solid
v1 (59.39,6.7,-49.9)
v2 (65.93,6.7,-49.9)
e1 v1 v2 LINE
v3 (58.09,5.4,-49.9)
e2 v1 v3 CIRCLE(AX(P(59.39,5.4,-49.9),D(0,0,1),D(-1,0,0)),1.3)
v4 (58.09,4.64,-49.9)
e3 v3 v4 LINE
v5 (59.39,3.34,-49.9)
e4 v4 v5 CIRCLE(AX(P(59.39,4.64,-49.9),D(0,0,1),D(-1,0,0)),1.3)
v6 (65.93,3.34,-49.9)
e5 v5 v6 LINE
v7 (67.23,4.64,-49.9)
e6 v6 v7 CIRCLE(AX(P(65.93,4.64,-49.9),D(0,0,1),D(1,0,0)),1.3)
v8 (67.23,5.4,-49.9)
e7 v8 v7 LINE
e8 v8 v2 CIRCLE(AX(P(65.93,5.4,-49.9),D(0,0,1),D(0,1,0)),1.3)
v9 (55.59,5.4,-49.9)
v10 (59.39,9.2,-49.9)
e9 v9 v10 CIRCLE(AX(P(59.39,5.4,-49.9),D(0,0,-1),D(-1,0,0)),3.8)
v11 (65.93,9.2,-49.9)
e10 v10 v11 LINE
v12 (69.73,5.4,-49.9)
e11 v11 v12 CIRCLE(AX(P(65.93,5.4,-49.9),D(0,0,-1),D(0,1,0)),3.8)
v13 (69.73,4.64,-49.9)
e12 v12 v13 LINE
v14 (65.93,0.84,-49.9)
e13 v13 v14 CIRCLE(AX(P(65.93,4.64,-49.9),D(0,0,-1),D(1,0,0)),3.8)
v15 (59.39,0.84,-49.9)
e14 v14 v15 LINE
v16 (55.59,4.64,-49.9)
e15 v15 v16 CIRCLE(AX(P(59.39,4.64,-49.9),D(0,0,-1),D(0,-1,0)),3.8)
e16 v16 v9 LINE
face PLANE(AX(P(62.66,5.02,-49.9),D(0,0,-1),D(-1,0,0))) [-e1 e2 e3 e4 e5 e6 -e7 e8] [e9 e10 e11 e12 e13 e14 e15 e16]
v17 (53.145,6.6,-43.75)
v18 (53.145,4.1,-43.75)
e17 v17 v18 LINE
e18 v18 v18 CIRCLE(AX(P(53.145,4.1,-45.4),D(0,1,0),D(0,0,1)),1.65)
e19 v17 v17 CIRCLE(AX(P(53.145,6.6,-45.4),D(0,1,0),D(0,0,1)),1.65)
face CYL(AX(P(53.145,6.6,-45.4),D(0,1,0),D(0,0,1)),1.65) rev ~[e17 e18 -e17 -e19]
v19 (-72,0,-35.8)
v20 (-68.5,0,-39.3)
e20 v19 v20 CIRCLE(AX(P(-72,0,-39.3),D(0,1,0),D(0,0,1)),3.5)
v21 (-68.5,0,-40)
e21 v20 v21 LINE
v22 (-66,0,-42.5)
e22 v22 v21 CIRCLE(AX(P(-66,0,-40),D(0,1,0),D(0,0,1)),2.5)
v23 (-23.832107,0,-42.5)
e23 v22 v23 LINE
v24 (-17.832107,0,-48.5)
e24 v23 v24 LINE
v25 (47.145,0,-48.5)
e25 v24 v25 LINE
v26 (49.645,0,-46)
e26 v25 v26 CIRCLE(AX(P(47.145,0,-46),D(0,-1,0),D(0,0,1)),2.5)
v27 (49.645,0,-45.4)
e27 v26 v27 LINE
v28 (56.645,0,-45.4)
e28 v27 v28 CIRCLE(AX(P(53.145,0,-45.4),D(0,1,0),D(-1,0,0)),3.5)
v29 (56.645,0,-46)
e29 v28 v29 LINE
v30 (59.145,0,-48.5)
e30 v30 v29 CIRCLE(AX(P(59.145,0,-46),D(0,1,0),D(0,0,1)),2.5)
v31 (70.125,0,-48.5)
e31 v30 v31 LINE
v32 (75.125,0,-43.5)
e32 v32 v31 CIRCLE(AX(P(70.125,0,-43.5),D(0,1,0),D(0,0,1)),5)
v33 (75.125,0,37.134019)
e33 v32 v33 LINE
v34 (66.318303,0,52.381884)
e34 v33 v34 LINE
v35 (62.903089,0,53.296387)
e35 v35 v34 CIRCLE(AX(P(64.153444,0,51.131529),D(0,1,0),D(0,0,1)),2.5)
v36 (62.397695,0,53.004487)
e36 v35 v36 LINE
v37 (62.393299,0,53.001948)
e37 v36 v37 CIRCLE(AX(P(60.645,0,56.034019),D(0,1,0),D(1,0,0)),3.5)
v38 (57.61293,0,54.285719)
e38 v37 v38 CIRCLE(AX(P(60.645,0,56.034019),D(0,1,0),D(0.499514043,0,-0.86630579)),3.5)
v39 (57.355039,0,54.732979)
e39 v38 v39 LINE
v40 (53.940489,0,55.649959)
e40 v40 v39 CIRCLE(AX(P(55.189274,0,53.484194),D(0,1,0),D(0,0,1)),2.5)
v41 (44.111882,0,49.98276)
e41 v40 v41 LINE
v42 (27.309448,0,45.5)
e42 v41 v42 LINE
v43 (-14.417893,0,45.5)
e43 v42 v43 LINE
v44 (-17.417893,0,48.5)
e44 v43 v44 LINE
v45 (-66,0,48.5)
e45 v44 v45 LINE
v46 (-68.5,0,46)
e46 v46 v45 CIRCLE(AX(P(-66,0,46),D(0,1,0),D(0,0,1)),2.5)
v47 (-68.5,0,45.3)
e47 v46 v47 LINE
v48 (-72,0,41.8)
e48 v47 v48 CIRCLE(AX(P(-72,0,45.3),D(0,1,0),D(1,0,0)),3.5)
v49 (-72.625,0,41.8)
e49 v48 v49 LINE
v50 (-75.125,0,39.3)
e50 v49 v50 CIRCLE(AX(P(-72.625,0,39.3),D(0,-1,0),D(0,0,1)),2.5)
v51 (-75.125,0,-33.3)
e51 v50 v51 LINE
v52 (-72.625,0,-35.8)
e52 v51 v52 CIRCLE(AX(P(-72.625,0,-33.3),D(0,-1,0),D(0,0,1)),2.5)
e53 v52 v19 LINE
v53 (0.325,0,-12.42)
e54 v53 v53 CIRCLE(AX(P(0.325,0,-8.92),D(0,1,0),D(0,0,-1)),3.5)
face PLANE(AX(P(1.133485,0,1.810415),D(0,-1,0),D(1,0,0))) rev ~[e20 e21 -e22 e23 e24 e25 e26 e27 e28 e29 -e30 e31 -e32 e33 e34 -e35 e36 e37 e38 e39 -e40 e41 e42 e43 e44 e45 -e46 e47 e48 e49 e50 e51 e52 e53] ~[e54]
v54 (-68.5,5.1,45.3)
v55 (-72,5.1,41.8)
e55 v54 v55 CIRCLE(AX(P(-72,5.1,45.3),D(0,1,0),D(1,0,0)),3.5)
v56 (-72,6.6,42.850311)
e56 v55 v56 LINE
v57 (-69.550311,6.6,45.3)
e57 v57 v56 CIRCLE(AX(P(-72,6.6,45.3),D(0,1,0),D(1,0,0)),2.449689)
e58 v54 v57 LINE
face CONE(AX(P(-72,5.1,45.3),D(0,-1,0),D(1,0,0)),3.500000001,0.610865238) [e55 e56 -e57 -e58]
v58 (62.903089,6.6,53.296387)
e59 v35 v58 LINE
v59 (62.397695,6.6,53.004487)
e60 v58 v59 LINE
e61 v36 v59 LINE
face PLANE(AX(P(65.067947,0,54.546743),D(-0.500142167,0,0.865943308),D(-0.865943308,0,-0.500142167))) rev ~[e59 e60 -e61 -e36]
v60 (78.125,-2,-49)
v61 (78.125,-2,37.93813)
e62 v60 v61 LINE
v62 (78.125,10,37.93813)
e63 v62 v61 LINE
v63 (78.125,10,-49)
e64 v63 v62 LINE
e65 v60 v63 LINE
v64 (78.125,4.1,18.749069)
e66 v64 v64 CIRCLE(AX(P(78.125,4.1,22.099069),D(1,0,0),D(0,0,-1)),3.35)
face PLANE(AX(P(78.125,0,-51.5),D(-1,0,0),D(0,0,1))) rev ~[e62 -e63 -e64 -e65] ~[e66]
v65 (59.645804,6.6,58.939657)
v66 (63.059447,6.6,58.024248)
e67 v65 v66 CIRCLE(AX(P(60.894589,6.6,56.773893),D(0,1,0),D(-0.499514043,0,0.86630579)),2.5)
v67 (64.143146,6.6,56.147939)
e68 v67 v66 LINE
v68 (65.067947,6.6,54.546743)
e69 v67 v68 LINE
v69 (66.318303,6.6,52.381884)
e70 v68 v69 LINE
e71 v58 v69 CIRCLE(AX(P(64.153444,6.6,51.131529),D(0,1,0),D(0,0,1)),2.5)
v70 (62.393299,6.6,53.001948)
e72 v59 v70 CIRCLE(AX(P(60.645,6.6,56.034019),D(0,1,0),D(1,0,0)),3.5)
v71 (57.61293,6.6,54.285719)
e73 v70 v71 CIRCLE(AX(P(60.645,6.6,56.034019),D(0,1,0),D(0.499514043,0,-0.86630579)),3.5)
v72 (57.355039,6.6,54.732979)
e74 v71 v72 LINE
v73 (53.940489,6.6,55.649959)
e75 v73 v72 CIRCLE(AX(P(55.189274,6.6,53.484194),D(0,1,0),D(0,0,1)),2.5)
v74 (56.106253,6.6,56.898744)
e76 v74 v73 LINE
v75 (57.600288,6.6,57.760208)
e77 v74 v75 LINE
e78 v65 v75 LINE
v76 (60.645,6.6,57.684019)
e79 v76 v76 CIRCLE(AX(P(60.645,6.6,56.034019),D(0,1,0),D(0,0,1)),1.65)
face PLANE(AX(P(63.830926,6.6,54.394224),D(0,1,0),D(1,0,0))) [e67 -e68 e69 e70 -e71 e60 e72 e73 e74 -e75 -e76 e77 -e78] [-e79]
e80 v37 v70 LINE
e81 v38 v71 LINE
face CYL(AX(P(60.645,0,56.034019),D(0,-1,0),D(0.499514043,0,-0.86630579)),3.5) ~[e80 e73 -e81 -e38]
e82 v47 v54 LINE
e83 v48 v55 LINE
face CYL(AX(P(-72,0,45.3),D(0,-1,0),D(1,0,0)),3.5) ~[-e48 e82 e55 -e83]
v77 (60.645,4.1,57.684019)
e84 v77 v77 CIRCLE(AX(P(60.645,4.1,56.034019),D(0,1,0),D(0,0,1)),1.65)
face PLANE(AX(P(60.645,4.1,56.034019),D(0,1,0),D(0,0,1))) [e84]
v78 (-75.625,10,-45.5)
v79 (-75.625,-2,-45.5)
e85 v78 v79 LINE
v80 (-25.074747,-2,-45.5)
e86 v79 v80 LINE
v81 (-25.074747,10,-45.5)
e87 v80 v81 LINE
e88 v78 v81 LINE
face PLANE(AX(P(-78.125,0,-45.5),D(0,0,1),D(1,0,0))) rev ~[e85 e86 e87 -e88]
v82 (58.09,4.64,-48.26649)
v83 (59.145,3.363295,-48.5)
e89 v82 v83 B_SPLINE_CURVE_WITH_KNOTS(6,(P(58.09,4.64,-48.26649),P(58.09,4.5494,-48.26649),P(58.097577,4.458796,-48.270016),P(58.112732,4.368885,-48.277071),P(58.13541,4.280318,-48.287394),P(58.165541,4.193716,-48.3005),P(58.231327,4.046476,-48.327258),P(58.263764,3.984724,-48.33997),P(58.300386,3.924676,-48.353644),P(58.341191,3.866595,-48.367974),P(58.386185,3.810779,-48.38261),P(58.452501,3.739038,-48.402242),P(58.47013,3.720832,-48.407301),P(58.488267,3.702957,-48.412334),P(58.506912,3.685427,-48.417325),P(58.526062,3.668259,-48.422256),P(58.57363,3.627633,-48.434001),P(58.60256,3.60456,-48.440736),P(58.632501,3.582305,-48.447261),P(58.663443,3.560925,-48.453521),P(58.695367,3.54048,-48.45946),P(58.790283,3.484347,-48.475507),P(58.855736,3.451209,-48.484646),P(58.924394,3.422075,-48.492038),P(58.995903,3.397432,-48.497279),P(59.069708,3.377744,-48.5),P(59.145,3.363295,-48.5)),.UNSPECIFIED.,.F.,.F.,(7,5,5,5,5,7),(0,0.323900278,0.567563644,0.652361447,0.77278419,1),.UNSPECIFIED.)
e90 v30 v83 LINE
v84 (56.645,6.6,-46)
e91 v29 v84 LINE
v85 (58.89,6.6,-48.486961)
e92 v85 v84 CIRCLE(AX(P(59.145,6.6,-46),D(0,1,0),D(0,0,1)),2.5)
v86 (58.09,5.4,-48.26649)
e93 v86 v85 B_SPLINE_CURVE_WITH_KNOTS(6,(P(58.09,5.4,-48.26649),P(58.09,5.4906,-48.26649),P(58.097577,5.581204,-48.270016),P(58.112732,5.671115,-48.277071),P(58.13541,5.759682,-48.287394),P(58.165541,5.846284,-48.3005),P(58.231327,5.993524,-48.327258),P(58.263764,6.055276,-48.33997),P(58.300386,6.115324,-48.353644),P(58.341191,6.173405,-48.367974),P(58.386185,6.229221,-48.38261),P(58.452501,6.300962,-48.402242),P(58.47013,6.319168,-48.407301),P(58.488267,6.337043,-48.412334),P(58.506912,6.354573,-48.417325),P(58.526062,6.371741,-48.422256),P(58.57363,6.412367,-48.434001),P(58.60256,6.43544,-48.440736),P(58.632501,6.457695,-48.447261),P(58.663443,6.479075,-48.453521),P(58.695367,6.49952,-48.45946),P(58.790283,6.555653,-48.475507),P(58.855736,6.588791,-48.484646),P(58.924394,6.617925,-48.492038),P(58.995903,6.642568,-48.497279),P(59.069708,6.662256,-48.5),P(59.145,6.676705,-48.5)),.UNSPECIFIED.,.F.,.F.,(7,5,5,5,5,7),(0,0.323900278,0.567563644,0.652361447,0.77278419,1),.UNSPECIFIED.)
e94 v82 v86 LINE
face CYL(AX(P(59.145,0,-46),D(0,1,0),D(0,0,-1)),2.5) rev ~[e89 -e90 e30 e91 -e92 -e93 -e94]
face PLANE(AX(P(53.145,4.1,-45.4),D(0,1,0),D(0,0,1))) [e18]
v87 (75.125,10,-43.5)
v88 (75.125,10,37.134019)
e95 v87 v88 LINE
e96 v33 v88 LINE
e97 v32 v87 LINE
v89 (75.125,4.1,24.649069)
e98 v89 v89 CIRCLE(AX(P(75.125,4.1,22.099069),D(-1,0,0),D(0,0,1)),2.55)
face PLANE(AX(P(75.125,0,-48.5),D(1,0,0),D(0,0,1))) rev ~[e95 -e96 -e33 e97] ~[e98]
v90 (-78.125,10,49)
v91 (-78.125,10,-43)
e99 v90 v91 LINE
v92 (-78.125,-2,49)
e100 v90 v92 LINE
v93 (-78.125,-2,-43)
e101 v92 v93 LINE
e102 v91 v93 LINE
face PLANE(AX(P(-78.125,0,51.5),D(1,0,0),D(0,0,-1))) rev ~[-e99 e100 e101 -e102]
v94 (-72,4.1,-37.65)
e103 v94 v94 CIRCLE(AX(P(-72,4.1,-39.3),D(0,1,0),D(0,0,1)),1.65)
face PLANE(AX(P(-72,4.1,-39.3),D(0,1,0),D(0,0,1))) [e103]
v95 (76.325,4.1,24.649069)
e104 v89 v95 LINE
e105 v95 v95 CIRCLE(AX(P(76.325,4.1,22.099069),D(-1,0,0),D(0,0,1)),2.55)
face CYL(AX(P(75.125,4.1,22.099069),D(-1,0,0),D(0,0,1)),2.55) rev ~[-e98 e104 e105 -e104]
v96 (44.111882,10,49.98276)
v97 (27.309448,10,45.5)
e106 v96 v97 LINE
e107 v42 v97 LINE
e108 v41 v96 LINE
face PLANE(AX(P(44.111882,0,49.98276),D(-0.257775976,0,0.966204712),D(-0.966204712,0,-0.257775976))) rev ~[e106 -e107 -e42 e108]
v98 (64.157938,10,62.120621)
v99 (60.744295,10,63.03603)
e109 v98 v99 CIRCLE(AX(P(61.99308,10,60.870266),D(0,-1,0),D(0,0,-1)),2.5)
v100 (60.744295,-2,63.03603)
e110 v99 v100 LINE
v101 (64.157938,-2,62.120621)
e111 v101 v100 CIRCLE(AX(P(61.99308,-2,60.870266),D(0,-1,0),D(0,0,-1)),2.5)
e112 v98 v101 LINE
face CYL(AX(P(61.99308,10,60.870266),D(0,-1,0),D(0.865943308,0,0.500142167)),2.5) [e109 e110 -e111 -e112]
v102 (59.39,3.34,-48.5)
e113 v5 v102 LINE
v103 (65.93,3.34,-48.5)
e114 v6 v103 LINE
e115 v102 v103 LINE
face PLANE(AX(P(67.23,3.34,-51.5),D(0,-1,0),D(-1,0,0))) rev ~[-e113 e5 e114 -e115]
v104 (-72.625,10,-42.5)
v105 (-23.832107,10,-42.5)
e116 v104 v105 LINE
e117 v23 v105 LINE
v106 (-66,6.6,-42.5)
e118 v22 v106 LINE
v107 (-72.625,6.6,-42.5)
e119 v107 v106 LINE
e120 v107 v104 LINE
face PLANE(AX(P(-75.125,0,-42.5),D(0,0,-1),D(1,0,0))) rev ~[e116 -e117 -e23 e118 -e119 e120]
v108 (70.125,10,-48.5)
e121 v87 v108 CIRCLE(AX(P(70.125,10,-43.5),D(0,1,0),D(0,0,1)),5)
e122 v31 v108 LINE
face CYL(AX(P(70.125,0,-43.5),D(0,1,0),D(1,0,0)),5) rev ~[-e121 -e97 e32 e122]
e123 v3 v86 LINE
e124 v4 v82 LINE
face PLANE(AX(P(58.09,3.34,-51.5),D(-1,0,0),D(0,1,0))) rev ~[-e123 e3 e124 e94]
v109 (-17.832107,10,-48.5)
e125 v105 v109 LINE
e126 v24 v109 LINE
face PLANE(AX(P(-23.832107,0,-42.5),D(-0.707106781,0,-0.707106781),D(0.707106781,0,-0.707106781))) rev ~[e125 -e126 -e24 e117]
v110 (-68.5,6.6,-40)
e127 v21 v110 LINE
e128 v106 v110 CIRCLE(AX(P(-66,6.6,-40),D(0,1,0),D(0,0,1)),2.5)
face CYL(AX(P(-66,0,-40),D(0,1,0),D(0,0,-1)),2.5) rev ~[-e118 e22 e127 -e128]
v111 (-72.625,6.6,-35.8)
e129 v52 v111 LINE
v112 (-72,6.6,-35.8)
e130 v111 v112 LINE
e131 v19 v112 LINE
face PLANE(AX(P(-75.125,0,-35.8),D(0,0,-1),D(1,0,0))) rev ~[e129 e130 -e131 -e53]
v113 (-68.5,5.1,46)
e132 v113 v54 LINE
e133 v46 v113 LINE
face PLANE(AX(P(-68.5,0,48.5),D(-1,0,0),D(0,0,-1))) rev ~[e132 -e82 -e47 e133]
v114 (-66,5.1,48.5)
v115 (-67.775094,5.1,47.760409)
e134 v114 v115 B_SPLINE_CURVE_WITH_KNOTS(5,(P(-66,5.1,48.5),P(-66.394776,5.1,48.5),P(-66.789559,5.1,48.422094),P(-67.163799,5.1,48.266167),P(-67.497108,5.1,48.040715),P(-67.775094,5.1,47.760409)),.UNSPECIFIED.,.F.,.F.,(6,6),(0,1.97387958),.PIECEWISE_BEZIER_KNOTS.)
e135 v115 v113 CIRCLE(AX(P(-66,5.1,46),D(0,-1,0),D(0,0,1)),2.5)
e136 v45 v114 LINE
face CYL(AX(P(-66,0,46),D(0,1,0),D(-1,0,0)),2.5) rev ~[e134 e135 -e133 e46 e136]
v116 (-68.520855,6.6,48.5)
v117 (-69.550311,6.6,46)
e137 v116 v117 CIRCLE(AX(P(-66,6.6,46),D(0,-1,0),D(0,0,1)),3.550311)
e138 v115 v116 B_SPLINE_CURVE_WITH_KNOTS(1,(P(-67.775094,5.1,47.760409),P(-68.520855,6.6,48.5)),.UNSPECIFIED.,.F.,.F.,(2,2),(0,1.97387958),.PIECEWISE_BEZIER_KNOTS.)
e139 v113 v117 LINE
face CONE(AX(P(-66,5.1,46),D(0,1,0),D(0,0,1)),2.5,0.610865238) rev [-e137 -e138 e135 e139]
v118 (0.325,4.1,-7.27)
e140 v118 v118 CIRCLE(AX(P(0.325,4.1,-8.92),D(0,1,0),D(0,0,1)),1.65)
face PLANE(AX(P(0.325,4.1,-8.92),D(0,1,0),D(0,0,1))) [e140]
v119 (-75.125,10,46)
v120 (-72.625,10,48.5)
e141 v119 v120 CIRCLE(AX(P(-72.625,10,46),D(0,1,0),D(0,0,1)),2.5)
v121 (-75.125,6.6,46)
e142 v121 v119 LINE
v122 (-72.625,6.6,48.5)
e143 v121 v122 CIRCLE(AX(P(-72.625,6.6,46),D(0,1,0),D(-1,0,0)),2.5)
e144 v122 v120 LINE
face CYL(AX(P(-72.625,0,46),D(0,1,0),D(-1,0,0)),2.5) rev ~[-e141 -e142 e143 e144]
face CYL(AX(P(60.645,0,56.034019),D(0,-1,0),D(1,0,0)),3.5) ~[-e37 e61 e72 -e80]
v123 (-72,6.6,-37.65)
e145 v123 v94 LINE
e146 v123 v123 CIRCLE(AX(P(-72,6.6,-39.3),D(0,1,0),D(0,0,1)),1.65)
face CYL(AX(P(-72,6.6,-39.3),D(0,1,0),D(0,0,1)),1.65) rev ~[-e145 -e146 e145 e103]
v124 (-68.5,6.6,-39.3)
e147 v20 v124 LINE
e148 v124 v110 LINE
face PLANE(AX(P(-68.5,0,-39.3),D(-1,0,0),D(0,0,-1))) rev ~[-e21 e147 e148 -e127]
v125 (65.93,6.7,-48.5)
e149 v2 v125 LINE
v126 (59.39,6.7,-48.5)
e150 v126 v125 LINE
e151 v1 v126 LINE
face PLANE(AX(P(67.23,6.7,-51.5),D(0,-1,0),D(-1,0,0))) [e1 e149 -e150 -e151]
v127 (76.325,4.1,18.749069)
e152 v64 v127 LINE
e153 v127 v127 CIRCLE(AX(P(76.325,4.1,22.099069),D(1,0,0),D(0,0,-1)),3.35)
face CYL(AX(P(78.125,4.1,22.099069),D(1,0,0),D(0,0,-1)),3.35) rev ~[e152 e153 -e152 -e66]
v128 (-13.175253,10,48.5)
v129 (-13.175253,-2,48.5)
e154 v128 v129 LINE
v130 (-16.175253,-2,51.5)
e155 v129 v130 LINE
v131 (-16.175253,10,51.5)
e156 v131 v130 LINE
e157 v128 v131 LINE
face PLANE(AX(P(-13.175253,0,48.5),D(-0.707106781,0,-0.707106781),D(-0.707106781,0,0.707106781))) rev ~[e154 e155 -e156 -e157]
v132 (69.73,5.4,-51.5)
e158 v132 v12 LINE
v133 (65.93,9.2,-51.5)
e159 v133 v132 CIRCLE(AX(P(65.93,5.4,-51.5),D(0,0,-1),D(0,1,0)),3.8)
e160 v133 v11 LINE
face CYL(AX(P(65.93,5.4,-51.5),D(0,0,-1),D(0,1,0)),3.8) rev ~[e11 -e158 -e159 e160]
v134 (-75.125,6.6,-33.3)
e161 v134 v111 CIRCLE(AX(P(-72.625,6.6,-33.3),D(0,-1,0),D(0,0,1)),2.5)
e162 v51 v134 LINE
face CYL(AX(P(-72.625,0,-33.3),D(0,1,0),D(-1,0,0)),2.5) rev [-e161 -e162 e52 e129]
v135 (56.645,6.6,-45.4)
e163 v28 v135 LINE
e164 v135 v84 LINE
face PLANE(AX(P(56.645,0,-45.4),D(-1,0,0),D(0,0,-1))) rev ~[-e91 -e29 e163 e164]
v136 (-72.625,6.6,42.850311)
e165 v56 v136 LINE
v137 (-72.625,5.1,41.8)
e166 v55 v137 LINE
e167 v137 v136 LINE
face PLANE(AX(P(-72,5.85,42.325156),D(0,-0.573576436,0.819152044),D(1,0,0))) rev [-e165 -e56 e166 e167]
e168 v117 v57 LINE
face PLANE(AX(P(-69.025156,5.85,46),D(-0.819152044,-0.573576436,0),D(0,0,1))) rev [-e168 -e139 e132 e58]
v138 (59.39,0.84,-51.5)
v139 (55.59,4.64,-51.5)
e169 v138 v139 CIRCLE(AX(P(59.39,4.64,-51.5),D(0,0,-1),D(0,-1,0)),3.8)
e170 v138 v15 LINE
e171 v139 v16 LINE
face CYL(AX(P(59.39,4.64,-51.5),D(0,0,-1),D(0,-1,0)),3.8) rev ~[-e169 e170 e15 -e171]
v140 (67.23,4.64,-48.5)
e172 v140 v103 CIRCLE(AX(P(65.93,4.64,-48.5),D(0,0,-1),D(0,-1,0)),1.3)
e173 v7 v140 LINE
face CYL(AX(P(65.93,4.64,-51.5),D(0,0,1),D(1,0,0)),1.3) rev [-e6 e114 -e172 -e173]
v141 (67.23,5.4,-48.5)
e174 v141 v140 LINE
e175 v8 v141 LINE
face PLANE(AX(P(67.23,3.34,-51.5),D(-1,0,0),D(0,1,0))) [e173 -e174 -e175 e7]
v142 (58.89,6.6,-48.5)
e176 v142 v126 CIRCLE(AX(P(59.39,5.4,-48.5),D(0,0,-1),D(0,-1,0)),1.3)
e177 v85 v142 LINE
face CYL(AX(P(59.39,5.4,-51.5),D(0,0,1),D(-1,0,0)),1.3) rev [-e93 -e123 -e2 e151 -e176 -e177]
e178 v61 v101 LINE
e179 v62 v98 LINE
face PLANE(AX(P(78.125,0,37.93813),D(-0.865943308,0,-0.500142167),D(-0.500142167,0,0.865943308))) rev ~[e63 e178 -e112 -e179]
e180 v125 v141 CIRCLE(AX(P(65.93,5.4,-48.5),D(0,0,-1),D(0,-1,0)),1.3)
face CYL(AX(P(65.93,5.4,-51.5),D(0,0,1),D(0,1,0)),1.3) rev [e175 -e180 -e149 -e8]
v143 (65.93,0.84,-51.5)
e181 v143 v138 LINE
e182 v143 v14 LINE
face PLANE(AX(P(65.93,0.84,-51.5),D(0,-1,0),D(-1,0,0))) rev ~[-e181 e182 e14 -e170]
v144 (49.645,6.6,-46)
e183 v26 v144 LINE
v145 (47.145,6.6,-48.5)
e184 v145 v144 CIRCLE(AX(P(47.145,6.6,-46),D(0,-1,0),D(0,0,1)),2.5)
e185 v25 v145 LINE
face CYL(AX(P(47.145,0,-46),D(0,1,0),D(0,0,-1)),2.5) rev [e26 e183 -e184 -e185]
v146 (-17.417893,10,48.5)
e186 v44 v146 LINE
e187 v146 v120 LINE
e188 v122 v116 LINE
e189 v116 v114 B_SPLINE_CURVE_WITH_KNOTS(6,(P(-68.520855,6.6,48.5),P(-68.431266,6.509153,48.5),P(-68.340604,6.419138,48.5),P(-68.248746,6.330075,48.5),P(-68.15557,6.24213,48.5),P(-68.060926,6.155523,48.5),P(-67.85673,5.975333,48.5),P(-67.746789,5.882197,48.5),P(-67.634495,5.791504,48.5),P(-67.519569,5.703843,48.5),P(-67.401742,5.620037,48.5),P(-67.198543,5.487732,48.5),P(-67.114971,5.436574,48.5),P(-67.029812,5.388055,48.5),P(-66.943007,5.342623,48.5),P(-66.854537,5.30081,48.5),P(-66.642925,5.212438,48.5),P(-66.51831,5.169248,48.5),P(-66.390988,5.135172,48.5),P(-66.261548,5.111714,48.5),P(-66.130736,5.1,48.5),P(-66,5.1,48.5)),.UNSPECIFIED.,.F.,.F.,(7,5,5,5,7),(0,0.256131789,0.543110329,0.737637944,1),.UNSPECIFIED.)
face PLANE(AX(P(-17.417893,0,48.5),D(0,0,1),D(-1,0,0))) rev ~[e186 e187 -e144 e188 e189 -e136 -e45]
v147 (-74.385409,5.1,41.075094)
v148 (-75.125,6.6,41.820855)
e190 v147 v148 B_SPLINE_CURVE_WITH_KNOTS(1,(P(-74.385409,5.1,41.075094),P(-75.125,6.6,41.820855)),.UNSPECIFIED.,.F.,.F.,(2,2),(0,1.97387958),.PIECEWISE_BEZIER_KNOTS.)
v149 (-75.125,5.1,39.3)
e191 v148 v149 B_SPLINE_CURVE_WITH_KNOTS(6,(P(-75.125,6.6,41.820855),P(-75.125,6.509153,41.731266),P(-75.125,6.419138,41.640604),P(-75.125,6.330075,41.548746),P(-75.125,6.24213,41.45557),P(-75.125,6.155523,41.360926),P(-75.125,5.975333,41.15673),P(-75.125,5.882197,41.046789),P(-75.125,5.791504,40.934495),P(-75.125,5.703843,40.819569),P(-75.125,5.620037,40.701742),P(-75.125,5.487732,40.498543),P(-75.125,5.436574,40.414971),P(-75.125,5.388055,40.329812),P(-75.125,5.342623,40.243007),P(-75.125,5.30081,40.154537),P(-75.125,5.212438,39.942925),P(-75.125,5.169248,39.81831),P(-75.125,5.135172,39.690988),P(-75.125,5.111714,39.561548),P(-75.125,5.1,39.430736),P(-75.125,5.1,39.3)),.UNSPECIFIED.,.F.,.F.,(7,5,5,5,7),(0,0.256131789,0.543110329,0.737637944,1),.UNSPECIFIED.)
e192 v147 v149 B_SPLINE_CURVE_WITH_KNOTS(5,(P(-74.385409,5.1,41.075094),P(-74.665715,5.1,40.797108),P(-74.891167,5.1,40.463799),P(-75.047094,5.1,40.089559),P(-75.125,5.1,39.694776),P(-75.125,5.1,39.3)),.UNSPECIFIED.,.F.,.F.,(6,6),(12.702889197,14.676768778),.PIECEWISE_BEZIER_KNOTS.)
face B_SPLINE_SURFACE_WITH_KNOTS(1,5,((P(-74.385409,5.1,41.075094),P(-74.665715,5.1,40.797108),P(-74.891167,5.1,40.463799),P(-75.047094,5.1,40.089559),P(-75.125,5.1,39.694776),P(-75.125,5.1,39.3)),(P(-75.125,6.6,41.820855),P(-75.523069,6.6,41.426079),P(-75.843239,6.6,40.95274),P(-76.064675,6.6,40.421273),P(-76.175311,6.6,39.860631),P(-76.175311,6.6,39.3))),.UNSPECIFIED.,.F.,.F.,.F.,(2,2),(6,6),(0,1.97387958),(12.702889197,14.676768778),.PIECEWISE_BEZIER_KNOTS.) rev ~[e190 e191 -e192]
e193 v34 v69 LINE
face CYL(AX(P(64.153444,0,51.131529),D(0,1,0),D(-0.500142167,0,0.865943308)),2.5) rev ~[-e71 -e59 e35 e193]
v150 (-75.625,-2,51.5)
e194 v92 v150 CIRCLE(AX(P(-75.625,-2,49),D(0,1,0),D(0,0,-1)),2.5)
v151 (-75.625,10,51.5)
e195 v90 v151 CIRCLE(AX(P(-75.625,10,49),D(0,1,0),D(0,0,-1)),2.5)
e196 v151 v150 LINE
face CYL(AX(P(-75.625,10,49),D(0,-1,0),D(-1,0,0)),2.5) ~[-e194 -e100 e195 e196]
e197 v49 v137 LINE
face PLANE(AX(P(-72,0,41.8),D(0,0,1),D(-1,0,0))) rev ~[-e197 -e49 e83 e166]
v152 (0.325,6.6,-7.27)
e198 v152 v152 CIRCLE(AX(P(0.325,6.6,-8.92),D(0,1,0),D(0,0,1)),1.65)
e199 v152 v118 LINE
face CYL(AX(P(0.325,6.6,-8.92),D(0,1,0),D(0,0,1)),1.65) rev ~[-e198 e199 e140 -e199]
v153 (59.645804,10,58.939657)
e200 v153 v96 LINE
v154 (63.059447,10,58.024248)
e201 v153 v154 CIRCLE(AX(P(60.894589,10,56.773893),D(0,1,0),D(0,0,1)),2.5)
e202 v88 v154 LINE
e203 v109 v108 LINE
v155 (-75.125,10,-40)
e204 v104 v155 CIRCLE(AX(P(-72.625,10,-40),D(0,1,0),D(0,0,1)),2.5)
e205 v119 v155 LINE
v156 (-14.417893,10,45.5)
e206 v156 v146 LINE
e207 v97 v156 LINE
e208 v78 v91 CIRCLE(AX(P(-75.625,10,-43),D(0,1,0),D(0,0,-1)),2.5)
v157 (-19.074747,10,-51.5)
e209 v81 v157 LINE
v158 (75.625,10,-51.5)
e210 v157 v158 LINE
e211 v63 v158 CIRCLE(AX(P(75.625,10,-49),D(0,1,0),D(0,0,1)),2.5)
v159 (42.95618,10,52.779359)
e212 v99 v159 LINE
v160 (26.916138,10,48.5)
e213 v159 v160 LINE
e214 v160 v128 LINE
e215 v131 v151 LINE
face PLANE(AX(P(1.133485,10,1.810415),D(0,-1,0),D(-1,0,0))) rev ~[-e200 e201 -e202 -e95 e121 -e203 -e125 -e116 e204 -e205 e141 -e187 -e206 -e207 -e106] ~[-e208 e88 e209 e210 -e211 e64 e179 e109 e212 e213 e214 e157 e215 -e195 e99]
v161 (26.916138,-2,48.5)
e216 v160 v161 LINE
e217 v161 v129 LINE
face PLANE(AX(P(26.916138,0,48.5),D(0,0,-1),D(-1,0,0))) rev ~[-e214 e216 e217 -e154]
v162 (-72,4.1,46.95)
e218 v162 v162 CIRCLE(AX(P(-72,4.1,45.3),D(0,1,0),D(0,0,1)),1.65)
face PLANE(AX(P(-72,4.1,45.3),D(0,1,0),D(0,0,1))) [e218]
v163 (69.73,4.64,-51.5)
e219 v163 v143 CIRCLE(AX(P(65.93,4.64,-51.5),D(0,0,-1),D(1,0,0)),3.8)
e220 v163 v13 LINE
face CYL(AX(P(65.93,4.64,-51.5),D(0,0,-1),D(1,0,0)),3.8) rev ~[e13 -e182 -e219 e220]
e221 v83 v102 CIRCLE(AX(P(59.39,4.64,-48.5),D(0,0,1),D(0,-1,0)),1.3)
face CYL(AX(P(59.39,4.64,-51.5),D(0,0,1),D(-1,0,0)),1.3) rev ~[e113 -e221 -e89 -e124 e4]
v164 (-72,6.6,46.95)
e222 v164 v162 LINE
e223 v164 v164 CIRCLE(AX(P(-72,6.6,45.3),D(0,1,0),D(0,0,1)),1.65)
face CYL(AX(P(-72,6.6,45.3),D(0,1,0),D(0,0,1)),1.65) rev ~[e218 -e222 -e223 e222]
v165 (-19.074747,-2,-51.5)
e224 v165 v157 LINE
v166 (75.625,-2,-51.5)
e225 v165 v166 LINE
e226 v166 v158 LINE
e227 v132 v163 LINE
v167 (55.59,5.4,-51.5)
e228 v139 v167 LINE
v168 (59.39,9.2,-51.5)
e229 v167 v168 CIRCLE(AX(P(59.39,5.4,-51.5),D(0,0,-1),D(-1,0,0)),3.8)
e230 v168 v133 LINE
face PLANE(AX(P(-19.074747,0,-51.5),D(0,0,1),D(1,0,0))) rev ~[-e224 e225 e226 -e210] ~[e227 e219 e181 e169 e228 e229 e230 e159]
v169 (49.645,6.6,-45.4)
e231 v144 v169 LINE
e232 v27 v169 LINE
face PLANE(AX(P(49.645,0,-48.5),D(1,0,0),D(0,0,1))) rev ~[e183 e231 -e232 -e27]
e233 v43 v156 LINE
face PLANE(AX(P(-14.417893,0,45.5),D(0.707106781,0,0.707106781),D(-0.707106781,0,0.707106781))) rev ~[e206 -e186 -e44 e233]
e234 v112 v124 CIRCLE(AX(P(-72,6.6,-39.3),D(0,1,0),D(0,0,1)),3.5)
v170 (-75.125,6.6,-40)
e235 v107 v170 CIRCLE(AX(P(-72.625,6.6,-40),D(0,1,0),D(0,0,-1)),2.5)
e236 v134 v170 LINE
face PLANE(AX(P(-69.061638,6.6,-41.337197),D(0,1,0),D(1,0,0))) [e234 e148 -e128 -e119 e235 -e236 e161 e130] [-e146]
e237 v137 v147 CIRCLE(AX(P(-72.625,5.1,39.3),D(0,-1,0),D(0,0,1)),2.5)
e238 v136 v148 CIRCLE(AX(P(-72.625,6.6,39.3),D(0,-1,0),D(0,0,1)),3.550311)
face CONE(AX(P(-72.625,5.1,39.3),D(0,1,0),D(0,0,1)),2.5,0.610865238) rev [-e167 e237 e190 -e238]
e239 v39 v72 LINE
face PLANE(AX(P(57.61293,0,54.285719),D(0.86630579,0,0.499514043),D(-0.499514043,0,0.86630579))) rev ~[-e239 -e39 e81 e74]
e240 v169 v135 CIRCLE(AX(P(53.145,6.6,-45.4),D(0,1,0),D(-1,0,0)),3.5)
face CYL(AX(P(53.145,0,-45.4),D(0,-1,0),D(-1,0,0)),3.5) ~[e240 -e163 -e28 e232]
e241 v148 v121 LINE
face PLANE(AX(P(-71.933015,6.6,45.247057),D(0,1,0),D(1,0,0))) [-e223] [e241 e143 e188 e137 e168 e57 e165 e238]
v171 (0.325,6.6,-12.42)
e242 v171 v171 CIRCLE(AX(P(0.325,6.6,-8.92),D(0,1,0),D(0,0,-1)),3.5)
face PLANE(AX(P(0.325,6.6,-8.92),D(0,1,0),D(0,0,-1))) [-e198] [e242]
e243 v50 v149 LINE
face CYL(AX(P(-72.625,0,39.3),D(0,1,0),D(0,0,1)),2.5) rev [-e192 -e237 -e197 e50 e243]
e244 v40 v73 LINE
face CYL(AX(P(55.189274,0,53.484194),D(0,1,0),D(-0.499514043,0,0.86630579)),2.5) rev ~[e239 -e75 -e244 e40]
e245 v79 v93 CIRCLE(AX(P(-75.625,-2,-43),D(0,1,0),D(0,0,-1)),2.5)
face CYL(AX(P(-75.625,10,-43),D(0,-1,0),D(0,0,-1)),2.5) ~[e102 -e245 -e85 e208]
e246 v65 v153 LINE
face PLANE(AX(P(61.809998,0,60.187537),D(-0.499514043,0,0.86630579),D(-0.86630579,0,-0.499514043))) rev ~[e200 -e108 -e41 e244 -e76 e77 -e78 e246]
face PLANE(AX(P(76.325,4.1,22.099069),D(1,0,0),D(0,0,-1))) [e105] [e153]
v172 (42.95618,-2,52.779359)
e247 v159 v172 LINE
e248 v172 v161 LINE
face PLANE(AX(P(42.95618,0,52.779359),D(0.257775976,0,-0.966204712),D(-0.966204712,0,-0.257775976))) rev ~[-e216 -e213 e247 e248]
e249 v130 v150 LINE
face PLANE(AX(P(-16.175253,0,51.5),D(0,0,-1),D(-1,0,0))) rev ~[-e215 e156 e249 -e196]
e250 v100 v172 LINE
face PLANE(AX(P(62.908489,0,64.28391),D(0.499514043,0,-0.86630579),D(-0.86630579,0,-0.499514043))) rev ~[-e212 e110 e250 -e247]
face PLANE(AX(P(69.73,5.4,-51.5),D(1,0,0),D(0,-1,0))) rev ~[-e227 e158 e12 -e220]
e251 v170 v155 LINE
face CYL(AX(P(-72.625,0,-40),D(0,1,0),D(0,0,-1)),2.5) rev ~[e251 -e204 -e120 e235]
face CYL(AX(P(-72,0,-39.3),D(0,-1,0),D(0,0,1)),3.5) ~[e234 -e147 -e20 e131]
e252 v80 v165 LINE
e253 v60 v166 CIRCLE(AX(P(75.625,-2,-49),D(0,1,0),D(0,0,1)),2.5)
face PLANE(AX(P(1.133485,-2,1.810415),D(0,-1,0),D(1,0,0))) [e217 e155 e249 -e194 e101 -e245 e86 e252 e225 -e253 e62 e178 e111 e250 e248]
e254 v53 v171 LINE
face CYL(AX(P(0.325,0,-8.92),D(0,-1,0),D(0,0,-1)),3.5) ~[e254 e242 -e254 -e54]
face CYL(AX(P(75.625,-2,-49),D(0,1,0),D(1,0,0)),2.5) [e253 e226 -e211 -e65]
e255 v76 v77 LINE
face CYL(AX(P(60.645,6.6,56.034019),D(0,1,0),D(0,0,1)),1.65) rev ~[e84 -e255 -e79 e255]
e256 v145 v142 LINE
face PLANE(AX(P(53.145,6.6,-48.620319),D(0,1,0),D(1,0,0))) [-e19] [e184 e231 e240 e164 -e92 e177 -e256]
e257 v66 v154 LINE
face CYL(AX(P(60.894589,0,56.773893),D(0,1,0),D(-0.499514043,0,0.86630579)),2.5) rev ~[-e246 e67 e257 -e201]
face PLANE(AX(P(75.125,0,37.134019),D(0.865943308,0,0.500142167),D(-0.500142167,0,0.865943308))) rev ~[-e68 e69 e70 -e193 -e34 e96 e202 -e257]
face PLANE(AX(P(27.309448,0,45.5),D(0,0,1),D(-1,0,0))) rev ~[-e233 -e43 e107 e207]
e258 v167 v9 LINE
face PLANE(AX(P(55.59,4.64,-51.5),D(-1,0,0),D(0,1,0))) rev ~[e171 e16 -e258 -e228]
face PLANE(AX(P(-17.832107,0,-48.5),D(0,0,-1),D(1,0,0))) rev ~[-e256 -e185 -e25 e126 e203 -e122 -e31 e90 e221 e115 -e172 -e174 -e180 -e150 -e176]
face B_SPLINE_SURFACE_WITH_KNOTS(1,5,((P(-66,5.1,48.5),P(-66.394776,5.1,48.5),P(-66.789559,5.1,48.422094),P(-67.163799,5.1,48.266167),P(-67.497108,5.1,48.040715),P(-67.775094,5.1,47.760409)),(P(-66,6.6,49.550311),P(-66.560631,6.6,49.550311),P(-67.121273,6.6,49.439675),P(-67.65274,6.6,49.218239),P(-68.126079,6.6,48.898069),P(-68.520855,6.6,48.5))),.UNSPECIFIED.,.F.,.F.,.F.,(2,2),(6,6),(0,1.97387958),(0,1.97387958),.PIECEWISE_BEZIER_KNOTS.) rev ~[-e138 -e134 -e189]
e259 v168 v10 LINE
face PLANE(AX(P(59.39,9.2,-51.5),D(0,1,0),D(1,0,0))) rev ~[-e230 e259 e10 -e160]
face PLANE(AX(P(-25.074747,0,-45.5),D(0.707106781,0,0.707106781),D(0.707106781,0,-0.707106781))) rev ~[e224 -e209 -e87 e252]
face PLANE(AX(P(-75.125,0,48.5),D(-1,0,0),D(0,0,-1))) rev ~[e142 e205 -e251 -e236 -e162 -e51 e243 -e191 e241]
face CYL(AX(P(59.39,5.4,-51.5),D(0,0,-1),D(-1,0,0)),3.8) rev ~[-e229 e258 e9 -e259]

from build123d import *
from OCP.BRepFilletAPI import BRepFilletAPI_MakeChamfer

# Parameters (mm, degrees)
BOSS_EXTRUDE1_DEPTH = 10
BOSS_EXTRUDE2_DEPTH = 2
FILLET1_R           = 2.5
FILLET2_R           = 2.5
FILLET4_R           = 5
SKETCH3_R           = 3.5
BOSS_EXTRUDE3_DEPTH = 6.6
SKETCH5_R           = 1.65
CUT_EXTRUDE1_DEPTH  = 2.5
FILLET3_R           = 2.5
SKETCH6_R           = 2.55
CUT_EXTRUDE2_DEPTH  = 167.136549573
SKETCH7_R           = 3.35
CUT_EXTRUDE3_DEPTH  = 1.8
CUT_EXTRUDE4_REACH  = 141.279
SKETCH8_W           = 9.14
SKETCH8_H           = 3.36
FILLET5_R           = 1.3
CUT_EXTRUDE5_DEPTH  = 1.6
CHAMFER1_SIZE       = 1.5
CHAMFER1_SIZE2      = 1.050311307


with BuildPart() as part:
    # Sketch1 → Boss-Extrude1 (new body)
    with BuildSketch(Plane(origin=(0, 0, 0), x_dir=(1, 0, 0), z_dir=(0, 1, 0))):
        Polygon((78.125, -37.9381301), (62.908489388, -64.283910205), (42.956179643, -52.779359478), (26.916138362, -48.5), (-13.175252532, -48.5), (-16.175252532, -51.5), (-78.125, -51.5), (-78.125, 45.5), (-25.074747468, 45.5), (-19.074747468, 51.5), (78.125, 51.5), align=None)
        Polygon((75.125, -37.134018586), (61.80999823, -60.187537075), (44.11188212, -49.982759925), (27.309448337, -45.5), (-14.417893219, -45.5), (-17.417893219, -48.5), (-75.125, -48.5), (-75.125, 42.5), (-23.832106781, 42.5), (-17.832106781, 48.5), (75.125, 48.5), align=None, mode=Mode.SUBTRACT)
    extrude(amount=BOSS_EXTRUDE1_DEPTH)

    # Sketch2 → Boss-Extrude2 (add)
    with BuildSketch(Plane.XZ):
        Polygon((78.125, -51.5), (78.125, 37.9381301), (62.908489388, 64.283910205), (42.956179643, 52.779359478), (26.916138362, 48.5), (-13.175252532, 48.5), (-16.175252532, 51.5), (-78.125, 51.5), (-78.125, -45.5), (-25.074747468, -45.5), (-19.074747468, -51.5), align=None)
    extrude(amount=BOSS_EXTRUDE2_DEPTH)

    # Fillet1
    fillet1_edges = [part.edges().sort_by_distance(p)[0] for p in [
        (-75.125, 5, -42.5),
        (-75.125, 5, 48.5),
        (61.80999823, 5, 60.187537075),
    ]]
    fillet(fillet1_edges, radius=FILLET1_R)

    # Fillet2
    fillet2_edges = [part.edges().sort_by_distance(p)[0] for p in [
        (62.908489388, 4, 64.283910205),
        (-78.125, 4, 51.5),
        (-78.125, 4, -45.5),
        (78.125, 4, -51.5),
    ]]
    fillet(fillet2_edges, radius=FILLET2_R)

    # Fillet4
    fillet4_edges = [part.edges().sort_by_distance(p)[0] for p in [
        (75.125, 5, -48.5),
    ]]
    fillet(fillet4_edges, radius=FILLET4_R)

    # Sketch3 → Boss-Extrude3 (add)
    with BuildSketch(Plane(origin=(0, 0, 0), x_dir=(1, 0, 0), z_dir=(0, 1, 0))):
        with BuildLine():
            ThreePointArc((-68.5, -45.3), (-69.525126266, -42.825126266), (-72, -41.8))
            ThreePointArc((-72, -41.8), (-73.834848074, -42.319508003), (-75.125, -43.723809973))
            Line((-75.125, -43.723809973), (-75.125, -46))
            ThreePointArc((-75.125, -46), (-74.392766953, -47.767766953), (-72.625, -48.5))
            Line((-72.625, -48.5), (-70.582255312, -48.5))
            ThreePointArc((-70.582255312, -48.5), (-69.066392459, -47.208912464), (-68.5, -45.3))
        make_face()
        with BuildLine():
            Line((-75.125, -46), (-75.125, -43.723809973))
            ThreePointArc((-75.125, -43.723809973), (-74.536075308, -47.712119821), (-70.582255312, -48.5))
            Line((-70.582255312, -48.5), (-72.625, -48.5))
            ThreePointArc((-72.625, -48.5), (-74.392766953, -47.767766953), (-75.125, -46))
        make_face()
        with BuildLine():
            Line((-72, -41.8), (-75.125, -41.8))
            Line((-75.125, -41.8), (-75.125, -43.723809973))
            ThreePointArc((-75.125, -43.723809973), (-73.834848074, -42.319508003), (-72, -41.8))
        make_face()
        with BuildLine():
            ThreePointArc((-70.582255312, 42.5), (-69.066392459, 41.208912464), (-68.5, 39.3))
            Line((-68.5, 39.3), (-68.5, 42.5))
            Line((-68.5, 42.5), (-70.582255312, 42.5))
        make_face()
        with BuildLine():
            ThreePointArc((-72, 35.8), (-69.525126266, 36.825126266), (-68.5, 39.3))
            ThreePointArc((-68.5, 39.3), (-69.066392459, 41.208912464), (-70.582255312, 42.5))
            Line((-70.582255312, 42.5), (-72.625, 42.5))
            ThreePointArc((-72.625, 42.5), (-74.392766953, 41.767766953), (-75.125, 40))
            Line((-75.125, 40), (-75.125, 37.723809973))
            ThreePointArc((-75.125, 37.723809973), (-73.834848074, 36.319508003), (-72, 35.8))
        make_face()
        with BuildLine():
            Line((-72.625, 42.5), (-70.582255312, 42.5))
            ThreePointArc((-70.582255312, 42.5), (-74.536075308, 41.712119821), (-75.125, 37.723809973))
            Line((-75.125, 37.723809973), (-75.125, 40))
            ThreePointArc((-75.125, 40), (-74.392766953, 41.767766953), (-72.625, 42.5))
        make_face()
        with BuildLine():
            Line((-75.125, 35.8), (-72, 35.8))
            ThreePointArc((-72, 35.8), (-73.834848074, 36.319508003), (-75.125, 37.723809973))
            Line((-75.125, 37.723809973), (-75.125, 35.8))
        make_face()
        with Locations(Location((0.325, 8.92, 0), (0, 0, 90))):
            Circle(SKETCH3_R)
        with BuildLine():
            ThreePointArc((54.769807681, 48.5), (53.145, 48.9), (51.520192319, 48.5))
            Line((51.520192319, 48.5), (54.769807681, 48.5))
        make_face()
        with BuildLine():
            Line((54.769807681, 48.5), (51.520192319, 48.5))
            ThreePointArc((51.520192319, 48.5), (50.150269054, 47.21151499), (49.645, 45.4))
            ThreePointArc((49.645, 45.4), (53.145, 41.9), (56.645, 45.4))
            ThreePointArc((56.645, 45.4), (56.139730946, 47.21151499), (54.769807681, 48.5))
        make_face()
        with BuildLine():
            Line((56.645, 48.5), (54.769807681, 48.5))
            ThreePointArc((54.769807681, 48.5), (56.139730946, 47.21151499), (56.645, 45.4))
            Line((56.645, 45.4), (56.645, 48.5))
        make_face()
        with BuildLine():
            Line((51.520192319, 48.5), (49.645, 48.5))
            Line((49.645, 48.5), (49.645, 45.4))
            ThreePointArc((49.645, 45.4), (50.150269054, 47.21151499), (51.520192319, 48.5))
        make_face()
        with BuildLine():
            Line((65.06794725, -54.546742633), (62.39329915, -53.001948322))
            ThreePointArc((62.39329915, -53.001948322), (63.67559788, -54.283168367), (64.145, -56.034018586))
            ThreePointArc((64.145, -56.034018586), (64.144536351, -56.090986384), (64.143145526, -56.14793909))
            Line((64.143145526, -56.14793909), (65.06794725, -54.546742633))
        make_face()
        with BuildLine():
            ThreePointArc((64.145, -56.034018586), (63.67559788, -54.283168367), (62.39329915, -53.001948322))
            ThreePointArc((62.39329915, -53.001948322), (59.73723674, -52.653786957), (57.612929736, -54.285719436))
            ThreePointArc((57.612929736, -54.285719436), (57.145023166, -56.02128423), (57.600288117, -57.760207901))
            Line((57.600288117, -57.760207901), (59.645803824, -58.939657274))
            ThreePointArc((59.645803824, -58.939657274), (61.542115723, -59.188578919), (63.059447202, -58.024248216))
            Line((63.059447202, -58.024248216), (64.143145526, -56.14793909))
            ThreePointArc((64.143145526, -56.14793909), (64.144536351, -56.090986384), (64.145, -56.034018586))
        make_face()
        with BuildLine():
            ThreePointArc((57.600288117, -57.760207901), (61.48240862, -59.432363301), (64.143145526, -56.14793909))
            Line((64.143145526, -56.14793909), (63.059447202, -58.024248216))
            ThreePointArc((63.059447202, -58.024248216), (61.542115723, -59.188578919), (59.645803824, -58.939657274))
            Line((59.645803824, -58.939657274), (57.600288117, -57.760207901))
        make_face()
        with BuildLine():
            Line((57.612929736, -54.285719436), (56.106253452, -56.898743849))
            Line((56.106253452, -56.898743849), (57.600288117, -57.760207901))
            ThreePointArc((57.600288117, -57.760207901), (57.145023166, -56.02128423), (57.612929736, -54.285719436))
        make_face()
        with BuildLine():
            Line((-68.5, -48.5), (-68.5, -45.3))
            ThreePointArc((-68.5, -45.3), (-69.066392459, -47.208912464), (-70.582255312, -48.5))
            Line((-70.582255312, -48.5), (-68.5, -48.5))
        make_face()
    extrude(amount=BOSS_EXTRUDE3_DEPTH)

    # Sketch5 → Cut-Extrude1 (cut)
    with BuildSketch(Plane(origin=(0, 6.6, 0), x_dir=(1, 0, 0), z_dir=(0, 1, 0))):
        with Locations(Location((-72, 39.3, 0), (0, 0, 270))):
            Circle(SKETCH5_R)
        with Locations(Location((0.325, 8.92, 0), (0, 0, 270))):
            Circle(SKETCH5_R)
        with Locations(Location((53.145, 45.4, 0), (0, 0, 270))):
            Circle(SKETCH5_R)
        with Locations(Location((60.645, -56.034018586, 0), (0, 0, 270))):
            Circle(SKETCH5_R)
        with Locations(Location((-72, -45.3, 0), (0, 0, 270))):
            Circle(SKETCH5_R)
    extrude(amount=-CUT_EXTRUDE1_DEPTH, mode=Mode.SUBTRACT)

    # Fillet3
    fillet3_edges = [part.edges().sort_by_distance(p)[0] for p in [
        (-68.5, 3.3, -42.5),
        (-75.125, 3.3, -35.8),
        (56.645, 3.3, -48.5),
        (49.645, 3.3, -48.5),
        (65.06794725, 3.3, 54.546742633),
        (56.106253452, 3.3, 56.898743849),
        (-68.5, 3.3, 48.5),
        (-75.125, 3.3, 41.8),
    ]]
    fillet(fillet3_edges, radius=FILLET3_R)

    # Sketch6 → Cut-Extrude2 (cut, through all)
    with BuildSketch(Plane.ZY.offset(-75.125)):
        with Locations((22.099069046, 4.1)):
            Circle(SKETCH6_R)
    extrude(amount=-CUT_EXTRUDE2_DEPTH, mode=Mode.SUBTRACT)

    # Sketch7 → Cut-Extrude3 (cut)
    with BuildSketch(Plane(origin=(78.125, 0, 0), x_dir=(0, 0, -1), z_dir=(1, 0, 0))):
        with Locations((-22.099069046, 4.1)):
            Circle(SKETCH7_R)
    extrude(amount=-CUT_EXTRUDE3_DEPTH, mode=Mode.SUBTRACT)

    # Sketch8 → Cut-Extrude4 (cut, up to next)
    with BuildSketch(Plane(origin=(0, 0, -51.5), x_dir=(-1, 0, 0), z_dir=(0, 0, -1)), mode=Mode.PRIVATE) as cut_extrude4_sk1:
        with Locations((-62.66, 5.02)):
            Rectangle(SKETCH8_W, SKETCH8_H)
    cut_extrude4_tool1 = extrude(cut_extrude4_sk1.sketch, amount=-CUT_EXTRUDE4_REACH, mode=Mode.PRIVATE) & part.part
    add(cut_extrude4_tool1.solids().sort_by_distance((62.66, 5.02, -51.5))[0], mode=Mode.SUBTRACT)

    # Fillet5
    fillet5_edges = [part.edges().sort_by_distance(p)[0] for p in [
        (67.23, 3.34, -50),
        (58.09, 3.34, -49.883244788),
        (58.09, 6.7, -50),
        (67.23, 6.7, -50),
    ]]
    fillet(fillet5_edges, radius=FILLET5_R)

    # Sketch9 → Cut-Extrude5 (cut)
    with BuildSketch(Plane(origin=(0, 0, -51.5), x_dir=(-1, 0, 0), z_dir=(0, 0, -1))):
        with BuildLine():
            Line((-69.73, 5.4), (-69.73, 4.64))
            ThreePointArc((-69.73, 4.64), (-68.617005769, 1.952994231), (-65.93, 0.84))
            Line((-65.93, 0.84), (-59.39, 0.84))
            ThreePointArc((-59.39, 0.84), (-56.702994231, 1.952994231), (-55.59, 4.64))
            Line((-55.59, 4.64), (-55.59, 5.4))
            ThreePointArc((-55.59, 5.4), (-56.702994231, 8.087005769), (-59.39, 9.2))
            Line((-59.39, 9.2), (-65.93, 9.2))
            ThreePointArc((-65.93, 9.2), (-68.617005769, 8.087005769), (-69.73, 5.4))
        make_face()
    extrude(amount=-CUT_EXTRUDE5_DEPTH, mode=Mode.SUBTRACT)

    # Chamfer1: one chamfer whose edges measure the first distance from different faces: ONE call of the kernel's chamfer builder (chamfer() names one face for all edges)
    chamfer1_edges_1 = [part.edges().sort_by_distance(p)[0] for p in [
        (-68.5, 6.6, 45.65),
    ]]
    chamfer1_side_1 = [part.faces().sort_by_distance(p)[0] for p in [
        (-68.5, 3.3, 45.65),
    ]]
    chamfer1_edges_2 = [part.edges().sort_by_distance(p)[0] for p in [
        (-69.525126266, 6.6, 42.825126266),
    ]]
    chamfer1_side_2 = [part.faces().sort_by_distance(p)[0] for p in [
        (-69.525126266, 3.3, 42.825126266),
    ]]
    chamfer1_edges_3 = [part.edges().sort_by_distance(p)[0] for p in [
        (-72.3125, 6.6, 41.8),
    ]]
    chamfer1_side_3 = [part.faces().sort_by_distance(p)[0] for p in [
        (-72.3125, 3.3, 41.8),
    ]]
    chamfer1_edges_4 = [part.edges().sort_by_distance(p)[0] for p in [
        (-67.767766953, 6.6, 47.767766953),
    ]]
    chamfer1_side_4 = [part.faces().sort_by_distance(p)[0] for p in [
        (-67.767766953, 3.3, 47.767766953),
    ]]
    chamfer1_edges_5 = [part.edges().sort_by_distance(p)[0] for p in [
        (-74.392766953, 6.6, 41.067766953),
    ]]
    chamfer1_side_5 = [part.faces().sort_by_distance(p)[0] for p in [
        (-74.392766953, 3.3, 41.067766953),
    ]]
    chamfer1 = BRepFilletAPI_MakeChamfer(part.part.solid().wrapped)
    for e in chamfer1_edges_1:
        chamfer1.Add(CHAMFER1_SIZE, CHAMFER1_SIZE2, e.wrapped, chamfer1_side_1[0].wrapped)  # the first distance lies on this face
    for e in chamfer1_edges_2:
        chamfer1.Add(CHAMFER1_SIZE, CHAMFER1_SIZE2, e.wrapped, chamfer1_side_2[0].wrapped)  # the first distance lies on this face
    for e in chamfer1_edges_3:
        chamfer1.Add(CHAMFER1_SIZE, CHAMFER1_SIZE2, e.wrapped, chamfer1_side_3[0].wrapped)  # the first distance lies on this face
    for e in chamfer1_edges_4:
        chamfer1.Add(CHAMFER1_SIZE, CHAMFER1_SIZE2, e.wrapped, chamfer1_side_4[0].wrapped)  # the first distance lies on this face
    for e in chamfer1_edges_5:
        chamfer1.Add(CHAMFER1_SIZE, CHAMFER1_SIZE2, e.wrapped, chamfer1_side_5[0].wrapped)  # the first distance lies on this face
    add(Compound.cast(chamfer1.Shape()), mode=Mode.REPLACE)


solid = part.part
